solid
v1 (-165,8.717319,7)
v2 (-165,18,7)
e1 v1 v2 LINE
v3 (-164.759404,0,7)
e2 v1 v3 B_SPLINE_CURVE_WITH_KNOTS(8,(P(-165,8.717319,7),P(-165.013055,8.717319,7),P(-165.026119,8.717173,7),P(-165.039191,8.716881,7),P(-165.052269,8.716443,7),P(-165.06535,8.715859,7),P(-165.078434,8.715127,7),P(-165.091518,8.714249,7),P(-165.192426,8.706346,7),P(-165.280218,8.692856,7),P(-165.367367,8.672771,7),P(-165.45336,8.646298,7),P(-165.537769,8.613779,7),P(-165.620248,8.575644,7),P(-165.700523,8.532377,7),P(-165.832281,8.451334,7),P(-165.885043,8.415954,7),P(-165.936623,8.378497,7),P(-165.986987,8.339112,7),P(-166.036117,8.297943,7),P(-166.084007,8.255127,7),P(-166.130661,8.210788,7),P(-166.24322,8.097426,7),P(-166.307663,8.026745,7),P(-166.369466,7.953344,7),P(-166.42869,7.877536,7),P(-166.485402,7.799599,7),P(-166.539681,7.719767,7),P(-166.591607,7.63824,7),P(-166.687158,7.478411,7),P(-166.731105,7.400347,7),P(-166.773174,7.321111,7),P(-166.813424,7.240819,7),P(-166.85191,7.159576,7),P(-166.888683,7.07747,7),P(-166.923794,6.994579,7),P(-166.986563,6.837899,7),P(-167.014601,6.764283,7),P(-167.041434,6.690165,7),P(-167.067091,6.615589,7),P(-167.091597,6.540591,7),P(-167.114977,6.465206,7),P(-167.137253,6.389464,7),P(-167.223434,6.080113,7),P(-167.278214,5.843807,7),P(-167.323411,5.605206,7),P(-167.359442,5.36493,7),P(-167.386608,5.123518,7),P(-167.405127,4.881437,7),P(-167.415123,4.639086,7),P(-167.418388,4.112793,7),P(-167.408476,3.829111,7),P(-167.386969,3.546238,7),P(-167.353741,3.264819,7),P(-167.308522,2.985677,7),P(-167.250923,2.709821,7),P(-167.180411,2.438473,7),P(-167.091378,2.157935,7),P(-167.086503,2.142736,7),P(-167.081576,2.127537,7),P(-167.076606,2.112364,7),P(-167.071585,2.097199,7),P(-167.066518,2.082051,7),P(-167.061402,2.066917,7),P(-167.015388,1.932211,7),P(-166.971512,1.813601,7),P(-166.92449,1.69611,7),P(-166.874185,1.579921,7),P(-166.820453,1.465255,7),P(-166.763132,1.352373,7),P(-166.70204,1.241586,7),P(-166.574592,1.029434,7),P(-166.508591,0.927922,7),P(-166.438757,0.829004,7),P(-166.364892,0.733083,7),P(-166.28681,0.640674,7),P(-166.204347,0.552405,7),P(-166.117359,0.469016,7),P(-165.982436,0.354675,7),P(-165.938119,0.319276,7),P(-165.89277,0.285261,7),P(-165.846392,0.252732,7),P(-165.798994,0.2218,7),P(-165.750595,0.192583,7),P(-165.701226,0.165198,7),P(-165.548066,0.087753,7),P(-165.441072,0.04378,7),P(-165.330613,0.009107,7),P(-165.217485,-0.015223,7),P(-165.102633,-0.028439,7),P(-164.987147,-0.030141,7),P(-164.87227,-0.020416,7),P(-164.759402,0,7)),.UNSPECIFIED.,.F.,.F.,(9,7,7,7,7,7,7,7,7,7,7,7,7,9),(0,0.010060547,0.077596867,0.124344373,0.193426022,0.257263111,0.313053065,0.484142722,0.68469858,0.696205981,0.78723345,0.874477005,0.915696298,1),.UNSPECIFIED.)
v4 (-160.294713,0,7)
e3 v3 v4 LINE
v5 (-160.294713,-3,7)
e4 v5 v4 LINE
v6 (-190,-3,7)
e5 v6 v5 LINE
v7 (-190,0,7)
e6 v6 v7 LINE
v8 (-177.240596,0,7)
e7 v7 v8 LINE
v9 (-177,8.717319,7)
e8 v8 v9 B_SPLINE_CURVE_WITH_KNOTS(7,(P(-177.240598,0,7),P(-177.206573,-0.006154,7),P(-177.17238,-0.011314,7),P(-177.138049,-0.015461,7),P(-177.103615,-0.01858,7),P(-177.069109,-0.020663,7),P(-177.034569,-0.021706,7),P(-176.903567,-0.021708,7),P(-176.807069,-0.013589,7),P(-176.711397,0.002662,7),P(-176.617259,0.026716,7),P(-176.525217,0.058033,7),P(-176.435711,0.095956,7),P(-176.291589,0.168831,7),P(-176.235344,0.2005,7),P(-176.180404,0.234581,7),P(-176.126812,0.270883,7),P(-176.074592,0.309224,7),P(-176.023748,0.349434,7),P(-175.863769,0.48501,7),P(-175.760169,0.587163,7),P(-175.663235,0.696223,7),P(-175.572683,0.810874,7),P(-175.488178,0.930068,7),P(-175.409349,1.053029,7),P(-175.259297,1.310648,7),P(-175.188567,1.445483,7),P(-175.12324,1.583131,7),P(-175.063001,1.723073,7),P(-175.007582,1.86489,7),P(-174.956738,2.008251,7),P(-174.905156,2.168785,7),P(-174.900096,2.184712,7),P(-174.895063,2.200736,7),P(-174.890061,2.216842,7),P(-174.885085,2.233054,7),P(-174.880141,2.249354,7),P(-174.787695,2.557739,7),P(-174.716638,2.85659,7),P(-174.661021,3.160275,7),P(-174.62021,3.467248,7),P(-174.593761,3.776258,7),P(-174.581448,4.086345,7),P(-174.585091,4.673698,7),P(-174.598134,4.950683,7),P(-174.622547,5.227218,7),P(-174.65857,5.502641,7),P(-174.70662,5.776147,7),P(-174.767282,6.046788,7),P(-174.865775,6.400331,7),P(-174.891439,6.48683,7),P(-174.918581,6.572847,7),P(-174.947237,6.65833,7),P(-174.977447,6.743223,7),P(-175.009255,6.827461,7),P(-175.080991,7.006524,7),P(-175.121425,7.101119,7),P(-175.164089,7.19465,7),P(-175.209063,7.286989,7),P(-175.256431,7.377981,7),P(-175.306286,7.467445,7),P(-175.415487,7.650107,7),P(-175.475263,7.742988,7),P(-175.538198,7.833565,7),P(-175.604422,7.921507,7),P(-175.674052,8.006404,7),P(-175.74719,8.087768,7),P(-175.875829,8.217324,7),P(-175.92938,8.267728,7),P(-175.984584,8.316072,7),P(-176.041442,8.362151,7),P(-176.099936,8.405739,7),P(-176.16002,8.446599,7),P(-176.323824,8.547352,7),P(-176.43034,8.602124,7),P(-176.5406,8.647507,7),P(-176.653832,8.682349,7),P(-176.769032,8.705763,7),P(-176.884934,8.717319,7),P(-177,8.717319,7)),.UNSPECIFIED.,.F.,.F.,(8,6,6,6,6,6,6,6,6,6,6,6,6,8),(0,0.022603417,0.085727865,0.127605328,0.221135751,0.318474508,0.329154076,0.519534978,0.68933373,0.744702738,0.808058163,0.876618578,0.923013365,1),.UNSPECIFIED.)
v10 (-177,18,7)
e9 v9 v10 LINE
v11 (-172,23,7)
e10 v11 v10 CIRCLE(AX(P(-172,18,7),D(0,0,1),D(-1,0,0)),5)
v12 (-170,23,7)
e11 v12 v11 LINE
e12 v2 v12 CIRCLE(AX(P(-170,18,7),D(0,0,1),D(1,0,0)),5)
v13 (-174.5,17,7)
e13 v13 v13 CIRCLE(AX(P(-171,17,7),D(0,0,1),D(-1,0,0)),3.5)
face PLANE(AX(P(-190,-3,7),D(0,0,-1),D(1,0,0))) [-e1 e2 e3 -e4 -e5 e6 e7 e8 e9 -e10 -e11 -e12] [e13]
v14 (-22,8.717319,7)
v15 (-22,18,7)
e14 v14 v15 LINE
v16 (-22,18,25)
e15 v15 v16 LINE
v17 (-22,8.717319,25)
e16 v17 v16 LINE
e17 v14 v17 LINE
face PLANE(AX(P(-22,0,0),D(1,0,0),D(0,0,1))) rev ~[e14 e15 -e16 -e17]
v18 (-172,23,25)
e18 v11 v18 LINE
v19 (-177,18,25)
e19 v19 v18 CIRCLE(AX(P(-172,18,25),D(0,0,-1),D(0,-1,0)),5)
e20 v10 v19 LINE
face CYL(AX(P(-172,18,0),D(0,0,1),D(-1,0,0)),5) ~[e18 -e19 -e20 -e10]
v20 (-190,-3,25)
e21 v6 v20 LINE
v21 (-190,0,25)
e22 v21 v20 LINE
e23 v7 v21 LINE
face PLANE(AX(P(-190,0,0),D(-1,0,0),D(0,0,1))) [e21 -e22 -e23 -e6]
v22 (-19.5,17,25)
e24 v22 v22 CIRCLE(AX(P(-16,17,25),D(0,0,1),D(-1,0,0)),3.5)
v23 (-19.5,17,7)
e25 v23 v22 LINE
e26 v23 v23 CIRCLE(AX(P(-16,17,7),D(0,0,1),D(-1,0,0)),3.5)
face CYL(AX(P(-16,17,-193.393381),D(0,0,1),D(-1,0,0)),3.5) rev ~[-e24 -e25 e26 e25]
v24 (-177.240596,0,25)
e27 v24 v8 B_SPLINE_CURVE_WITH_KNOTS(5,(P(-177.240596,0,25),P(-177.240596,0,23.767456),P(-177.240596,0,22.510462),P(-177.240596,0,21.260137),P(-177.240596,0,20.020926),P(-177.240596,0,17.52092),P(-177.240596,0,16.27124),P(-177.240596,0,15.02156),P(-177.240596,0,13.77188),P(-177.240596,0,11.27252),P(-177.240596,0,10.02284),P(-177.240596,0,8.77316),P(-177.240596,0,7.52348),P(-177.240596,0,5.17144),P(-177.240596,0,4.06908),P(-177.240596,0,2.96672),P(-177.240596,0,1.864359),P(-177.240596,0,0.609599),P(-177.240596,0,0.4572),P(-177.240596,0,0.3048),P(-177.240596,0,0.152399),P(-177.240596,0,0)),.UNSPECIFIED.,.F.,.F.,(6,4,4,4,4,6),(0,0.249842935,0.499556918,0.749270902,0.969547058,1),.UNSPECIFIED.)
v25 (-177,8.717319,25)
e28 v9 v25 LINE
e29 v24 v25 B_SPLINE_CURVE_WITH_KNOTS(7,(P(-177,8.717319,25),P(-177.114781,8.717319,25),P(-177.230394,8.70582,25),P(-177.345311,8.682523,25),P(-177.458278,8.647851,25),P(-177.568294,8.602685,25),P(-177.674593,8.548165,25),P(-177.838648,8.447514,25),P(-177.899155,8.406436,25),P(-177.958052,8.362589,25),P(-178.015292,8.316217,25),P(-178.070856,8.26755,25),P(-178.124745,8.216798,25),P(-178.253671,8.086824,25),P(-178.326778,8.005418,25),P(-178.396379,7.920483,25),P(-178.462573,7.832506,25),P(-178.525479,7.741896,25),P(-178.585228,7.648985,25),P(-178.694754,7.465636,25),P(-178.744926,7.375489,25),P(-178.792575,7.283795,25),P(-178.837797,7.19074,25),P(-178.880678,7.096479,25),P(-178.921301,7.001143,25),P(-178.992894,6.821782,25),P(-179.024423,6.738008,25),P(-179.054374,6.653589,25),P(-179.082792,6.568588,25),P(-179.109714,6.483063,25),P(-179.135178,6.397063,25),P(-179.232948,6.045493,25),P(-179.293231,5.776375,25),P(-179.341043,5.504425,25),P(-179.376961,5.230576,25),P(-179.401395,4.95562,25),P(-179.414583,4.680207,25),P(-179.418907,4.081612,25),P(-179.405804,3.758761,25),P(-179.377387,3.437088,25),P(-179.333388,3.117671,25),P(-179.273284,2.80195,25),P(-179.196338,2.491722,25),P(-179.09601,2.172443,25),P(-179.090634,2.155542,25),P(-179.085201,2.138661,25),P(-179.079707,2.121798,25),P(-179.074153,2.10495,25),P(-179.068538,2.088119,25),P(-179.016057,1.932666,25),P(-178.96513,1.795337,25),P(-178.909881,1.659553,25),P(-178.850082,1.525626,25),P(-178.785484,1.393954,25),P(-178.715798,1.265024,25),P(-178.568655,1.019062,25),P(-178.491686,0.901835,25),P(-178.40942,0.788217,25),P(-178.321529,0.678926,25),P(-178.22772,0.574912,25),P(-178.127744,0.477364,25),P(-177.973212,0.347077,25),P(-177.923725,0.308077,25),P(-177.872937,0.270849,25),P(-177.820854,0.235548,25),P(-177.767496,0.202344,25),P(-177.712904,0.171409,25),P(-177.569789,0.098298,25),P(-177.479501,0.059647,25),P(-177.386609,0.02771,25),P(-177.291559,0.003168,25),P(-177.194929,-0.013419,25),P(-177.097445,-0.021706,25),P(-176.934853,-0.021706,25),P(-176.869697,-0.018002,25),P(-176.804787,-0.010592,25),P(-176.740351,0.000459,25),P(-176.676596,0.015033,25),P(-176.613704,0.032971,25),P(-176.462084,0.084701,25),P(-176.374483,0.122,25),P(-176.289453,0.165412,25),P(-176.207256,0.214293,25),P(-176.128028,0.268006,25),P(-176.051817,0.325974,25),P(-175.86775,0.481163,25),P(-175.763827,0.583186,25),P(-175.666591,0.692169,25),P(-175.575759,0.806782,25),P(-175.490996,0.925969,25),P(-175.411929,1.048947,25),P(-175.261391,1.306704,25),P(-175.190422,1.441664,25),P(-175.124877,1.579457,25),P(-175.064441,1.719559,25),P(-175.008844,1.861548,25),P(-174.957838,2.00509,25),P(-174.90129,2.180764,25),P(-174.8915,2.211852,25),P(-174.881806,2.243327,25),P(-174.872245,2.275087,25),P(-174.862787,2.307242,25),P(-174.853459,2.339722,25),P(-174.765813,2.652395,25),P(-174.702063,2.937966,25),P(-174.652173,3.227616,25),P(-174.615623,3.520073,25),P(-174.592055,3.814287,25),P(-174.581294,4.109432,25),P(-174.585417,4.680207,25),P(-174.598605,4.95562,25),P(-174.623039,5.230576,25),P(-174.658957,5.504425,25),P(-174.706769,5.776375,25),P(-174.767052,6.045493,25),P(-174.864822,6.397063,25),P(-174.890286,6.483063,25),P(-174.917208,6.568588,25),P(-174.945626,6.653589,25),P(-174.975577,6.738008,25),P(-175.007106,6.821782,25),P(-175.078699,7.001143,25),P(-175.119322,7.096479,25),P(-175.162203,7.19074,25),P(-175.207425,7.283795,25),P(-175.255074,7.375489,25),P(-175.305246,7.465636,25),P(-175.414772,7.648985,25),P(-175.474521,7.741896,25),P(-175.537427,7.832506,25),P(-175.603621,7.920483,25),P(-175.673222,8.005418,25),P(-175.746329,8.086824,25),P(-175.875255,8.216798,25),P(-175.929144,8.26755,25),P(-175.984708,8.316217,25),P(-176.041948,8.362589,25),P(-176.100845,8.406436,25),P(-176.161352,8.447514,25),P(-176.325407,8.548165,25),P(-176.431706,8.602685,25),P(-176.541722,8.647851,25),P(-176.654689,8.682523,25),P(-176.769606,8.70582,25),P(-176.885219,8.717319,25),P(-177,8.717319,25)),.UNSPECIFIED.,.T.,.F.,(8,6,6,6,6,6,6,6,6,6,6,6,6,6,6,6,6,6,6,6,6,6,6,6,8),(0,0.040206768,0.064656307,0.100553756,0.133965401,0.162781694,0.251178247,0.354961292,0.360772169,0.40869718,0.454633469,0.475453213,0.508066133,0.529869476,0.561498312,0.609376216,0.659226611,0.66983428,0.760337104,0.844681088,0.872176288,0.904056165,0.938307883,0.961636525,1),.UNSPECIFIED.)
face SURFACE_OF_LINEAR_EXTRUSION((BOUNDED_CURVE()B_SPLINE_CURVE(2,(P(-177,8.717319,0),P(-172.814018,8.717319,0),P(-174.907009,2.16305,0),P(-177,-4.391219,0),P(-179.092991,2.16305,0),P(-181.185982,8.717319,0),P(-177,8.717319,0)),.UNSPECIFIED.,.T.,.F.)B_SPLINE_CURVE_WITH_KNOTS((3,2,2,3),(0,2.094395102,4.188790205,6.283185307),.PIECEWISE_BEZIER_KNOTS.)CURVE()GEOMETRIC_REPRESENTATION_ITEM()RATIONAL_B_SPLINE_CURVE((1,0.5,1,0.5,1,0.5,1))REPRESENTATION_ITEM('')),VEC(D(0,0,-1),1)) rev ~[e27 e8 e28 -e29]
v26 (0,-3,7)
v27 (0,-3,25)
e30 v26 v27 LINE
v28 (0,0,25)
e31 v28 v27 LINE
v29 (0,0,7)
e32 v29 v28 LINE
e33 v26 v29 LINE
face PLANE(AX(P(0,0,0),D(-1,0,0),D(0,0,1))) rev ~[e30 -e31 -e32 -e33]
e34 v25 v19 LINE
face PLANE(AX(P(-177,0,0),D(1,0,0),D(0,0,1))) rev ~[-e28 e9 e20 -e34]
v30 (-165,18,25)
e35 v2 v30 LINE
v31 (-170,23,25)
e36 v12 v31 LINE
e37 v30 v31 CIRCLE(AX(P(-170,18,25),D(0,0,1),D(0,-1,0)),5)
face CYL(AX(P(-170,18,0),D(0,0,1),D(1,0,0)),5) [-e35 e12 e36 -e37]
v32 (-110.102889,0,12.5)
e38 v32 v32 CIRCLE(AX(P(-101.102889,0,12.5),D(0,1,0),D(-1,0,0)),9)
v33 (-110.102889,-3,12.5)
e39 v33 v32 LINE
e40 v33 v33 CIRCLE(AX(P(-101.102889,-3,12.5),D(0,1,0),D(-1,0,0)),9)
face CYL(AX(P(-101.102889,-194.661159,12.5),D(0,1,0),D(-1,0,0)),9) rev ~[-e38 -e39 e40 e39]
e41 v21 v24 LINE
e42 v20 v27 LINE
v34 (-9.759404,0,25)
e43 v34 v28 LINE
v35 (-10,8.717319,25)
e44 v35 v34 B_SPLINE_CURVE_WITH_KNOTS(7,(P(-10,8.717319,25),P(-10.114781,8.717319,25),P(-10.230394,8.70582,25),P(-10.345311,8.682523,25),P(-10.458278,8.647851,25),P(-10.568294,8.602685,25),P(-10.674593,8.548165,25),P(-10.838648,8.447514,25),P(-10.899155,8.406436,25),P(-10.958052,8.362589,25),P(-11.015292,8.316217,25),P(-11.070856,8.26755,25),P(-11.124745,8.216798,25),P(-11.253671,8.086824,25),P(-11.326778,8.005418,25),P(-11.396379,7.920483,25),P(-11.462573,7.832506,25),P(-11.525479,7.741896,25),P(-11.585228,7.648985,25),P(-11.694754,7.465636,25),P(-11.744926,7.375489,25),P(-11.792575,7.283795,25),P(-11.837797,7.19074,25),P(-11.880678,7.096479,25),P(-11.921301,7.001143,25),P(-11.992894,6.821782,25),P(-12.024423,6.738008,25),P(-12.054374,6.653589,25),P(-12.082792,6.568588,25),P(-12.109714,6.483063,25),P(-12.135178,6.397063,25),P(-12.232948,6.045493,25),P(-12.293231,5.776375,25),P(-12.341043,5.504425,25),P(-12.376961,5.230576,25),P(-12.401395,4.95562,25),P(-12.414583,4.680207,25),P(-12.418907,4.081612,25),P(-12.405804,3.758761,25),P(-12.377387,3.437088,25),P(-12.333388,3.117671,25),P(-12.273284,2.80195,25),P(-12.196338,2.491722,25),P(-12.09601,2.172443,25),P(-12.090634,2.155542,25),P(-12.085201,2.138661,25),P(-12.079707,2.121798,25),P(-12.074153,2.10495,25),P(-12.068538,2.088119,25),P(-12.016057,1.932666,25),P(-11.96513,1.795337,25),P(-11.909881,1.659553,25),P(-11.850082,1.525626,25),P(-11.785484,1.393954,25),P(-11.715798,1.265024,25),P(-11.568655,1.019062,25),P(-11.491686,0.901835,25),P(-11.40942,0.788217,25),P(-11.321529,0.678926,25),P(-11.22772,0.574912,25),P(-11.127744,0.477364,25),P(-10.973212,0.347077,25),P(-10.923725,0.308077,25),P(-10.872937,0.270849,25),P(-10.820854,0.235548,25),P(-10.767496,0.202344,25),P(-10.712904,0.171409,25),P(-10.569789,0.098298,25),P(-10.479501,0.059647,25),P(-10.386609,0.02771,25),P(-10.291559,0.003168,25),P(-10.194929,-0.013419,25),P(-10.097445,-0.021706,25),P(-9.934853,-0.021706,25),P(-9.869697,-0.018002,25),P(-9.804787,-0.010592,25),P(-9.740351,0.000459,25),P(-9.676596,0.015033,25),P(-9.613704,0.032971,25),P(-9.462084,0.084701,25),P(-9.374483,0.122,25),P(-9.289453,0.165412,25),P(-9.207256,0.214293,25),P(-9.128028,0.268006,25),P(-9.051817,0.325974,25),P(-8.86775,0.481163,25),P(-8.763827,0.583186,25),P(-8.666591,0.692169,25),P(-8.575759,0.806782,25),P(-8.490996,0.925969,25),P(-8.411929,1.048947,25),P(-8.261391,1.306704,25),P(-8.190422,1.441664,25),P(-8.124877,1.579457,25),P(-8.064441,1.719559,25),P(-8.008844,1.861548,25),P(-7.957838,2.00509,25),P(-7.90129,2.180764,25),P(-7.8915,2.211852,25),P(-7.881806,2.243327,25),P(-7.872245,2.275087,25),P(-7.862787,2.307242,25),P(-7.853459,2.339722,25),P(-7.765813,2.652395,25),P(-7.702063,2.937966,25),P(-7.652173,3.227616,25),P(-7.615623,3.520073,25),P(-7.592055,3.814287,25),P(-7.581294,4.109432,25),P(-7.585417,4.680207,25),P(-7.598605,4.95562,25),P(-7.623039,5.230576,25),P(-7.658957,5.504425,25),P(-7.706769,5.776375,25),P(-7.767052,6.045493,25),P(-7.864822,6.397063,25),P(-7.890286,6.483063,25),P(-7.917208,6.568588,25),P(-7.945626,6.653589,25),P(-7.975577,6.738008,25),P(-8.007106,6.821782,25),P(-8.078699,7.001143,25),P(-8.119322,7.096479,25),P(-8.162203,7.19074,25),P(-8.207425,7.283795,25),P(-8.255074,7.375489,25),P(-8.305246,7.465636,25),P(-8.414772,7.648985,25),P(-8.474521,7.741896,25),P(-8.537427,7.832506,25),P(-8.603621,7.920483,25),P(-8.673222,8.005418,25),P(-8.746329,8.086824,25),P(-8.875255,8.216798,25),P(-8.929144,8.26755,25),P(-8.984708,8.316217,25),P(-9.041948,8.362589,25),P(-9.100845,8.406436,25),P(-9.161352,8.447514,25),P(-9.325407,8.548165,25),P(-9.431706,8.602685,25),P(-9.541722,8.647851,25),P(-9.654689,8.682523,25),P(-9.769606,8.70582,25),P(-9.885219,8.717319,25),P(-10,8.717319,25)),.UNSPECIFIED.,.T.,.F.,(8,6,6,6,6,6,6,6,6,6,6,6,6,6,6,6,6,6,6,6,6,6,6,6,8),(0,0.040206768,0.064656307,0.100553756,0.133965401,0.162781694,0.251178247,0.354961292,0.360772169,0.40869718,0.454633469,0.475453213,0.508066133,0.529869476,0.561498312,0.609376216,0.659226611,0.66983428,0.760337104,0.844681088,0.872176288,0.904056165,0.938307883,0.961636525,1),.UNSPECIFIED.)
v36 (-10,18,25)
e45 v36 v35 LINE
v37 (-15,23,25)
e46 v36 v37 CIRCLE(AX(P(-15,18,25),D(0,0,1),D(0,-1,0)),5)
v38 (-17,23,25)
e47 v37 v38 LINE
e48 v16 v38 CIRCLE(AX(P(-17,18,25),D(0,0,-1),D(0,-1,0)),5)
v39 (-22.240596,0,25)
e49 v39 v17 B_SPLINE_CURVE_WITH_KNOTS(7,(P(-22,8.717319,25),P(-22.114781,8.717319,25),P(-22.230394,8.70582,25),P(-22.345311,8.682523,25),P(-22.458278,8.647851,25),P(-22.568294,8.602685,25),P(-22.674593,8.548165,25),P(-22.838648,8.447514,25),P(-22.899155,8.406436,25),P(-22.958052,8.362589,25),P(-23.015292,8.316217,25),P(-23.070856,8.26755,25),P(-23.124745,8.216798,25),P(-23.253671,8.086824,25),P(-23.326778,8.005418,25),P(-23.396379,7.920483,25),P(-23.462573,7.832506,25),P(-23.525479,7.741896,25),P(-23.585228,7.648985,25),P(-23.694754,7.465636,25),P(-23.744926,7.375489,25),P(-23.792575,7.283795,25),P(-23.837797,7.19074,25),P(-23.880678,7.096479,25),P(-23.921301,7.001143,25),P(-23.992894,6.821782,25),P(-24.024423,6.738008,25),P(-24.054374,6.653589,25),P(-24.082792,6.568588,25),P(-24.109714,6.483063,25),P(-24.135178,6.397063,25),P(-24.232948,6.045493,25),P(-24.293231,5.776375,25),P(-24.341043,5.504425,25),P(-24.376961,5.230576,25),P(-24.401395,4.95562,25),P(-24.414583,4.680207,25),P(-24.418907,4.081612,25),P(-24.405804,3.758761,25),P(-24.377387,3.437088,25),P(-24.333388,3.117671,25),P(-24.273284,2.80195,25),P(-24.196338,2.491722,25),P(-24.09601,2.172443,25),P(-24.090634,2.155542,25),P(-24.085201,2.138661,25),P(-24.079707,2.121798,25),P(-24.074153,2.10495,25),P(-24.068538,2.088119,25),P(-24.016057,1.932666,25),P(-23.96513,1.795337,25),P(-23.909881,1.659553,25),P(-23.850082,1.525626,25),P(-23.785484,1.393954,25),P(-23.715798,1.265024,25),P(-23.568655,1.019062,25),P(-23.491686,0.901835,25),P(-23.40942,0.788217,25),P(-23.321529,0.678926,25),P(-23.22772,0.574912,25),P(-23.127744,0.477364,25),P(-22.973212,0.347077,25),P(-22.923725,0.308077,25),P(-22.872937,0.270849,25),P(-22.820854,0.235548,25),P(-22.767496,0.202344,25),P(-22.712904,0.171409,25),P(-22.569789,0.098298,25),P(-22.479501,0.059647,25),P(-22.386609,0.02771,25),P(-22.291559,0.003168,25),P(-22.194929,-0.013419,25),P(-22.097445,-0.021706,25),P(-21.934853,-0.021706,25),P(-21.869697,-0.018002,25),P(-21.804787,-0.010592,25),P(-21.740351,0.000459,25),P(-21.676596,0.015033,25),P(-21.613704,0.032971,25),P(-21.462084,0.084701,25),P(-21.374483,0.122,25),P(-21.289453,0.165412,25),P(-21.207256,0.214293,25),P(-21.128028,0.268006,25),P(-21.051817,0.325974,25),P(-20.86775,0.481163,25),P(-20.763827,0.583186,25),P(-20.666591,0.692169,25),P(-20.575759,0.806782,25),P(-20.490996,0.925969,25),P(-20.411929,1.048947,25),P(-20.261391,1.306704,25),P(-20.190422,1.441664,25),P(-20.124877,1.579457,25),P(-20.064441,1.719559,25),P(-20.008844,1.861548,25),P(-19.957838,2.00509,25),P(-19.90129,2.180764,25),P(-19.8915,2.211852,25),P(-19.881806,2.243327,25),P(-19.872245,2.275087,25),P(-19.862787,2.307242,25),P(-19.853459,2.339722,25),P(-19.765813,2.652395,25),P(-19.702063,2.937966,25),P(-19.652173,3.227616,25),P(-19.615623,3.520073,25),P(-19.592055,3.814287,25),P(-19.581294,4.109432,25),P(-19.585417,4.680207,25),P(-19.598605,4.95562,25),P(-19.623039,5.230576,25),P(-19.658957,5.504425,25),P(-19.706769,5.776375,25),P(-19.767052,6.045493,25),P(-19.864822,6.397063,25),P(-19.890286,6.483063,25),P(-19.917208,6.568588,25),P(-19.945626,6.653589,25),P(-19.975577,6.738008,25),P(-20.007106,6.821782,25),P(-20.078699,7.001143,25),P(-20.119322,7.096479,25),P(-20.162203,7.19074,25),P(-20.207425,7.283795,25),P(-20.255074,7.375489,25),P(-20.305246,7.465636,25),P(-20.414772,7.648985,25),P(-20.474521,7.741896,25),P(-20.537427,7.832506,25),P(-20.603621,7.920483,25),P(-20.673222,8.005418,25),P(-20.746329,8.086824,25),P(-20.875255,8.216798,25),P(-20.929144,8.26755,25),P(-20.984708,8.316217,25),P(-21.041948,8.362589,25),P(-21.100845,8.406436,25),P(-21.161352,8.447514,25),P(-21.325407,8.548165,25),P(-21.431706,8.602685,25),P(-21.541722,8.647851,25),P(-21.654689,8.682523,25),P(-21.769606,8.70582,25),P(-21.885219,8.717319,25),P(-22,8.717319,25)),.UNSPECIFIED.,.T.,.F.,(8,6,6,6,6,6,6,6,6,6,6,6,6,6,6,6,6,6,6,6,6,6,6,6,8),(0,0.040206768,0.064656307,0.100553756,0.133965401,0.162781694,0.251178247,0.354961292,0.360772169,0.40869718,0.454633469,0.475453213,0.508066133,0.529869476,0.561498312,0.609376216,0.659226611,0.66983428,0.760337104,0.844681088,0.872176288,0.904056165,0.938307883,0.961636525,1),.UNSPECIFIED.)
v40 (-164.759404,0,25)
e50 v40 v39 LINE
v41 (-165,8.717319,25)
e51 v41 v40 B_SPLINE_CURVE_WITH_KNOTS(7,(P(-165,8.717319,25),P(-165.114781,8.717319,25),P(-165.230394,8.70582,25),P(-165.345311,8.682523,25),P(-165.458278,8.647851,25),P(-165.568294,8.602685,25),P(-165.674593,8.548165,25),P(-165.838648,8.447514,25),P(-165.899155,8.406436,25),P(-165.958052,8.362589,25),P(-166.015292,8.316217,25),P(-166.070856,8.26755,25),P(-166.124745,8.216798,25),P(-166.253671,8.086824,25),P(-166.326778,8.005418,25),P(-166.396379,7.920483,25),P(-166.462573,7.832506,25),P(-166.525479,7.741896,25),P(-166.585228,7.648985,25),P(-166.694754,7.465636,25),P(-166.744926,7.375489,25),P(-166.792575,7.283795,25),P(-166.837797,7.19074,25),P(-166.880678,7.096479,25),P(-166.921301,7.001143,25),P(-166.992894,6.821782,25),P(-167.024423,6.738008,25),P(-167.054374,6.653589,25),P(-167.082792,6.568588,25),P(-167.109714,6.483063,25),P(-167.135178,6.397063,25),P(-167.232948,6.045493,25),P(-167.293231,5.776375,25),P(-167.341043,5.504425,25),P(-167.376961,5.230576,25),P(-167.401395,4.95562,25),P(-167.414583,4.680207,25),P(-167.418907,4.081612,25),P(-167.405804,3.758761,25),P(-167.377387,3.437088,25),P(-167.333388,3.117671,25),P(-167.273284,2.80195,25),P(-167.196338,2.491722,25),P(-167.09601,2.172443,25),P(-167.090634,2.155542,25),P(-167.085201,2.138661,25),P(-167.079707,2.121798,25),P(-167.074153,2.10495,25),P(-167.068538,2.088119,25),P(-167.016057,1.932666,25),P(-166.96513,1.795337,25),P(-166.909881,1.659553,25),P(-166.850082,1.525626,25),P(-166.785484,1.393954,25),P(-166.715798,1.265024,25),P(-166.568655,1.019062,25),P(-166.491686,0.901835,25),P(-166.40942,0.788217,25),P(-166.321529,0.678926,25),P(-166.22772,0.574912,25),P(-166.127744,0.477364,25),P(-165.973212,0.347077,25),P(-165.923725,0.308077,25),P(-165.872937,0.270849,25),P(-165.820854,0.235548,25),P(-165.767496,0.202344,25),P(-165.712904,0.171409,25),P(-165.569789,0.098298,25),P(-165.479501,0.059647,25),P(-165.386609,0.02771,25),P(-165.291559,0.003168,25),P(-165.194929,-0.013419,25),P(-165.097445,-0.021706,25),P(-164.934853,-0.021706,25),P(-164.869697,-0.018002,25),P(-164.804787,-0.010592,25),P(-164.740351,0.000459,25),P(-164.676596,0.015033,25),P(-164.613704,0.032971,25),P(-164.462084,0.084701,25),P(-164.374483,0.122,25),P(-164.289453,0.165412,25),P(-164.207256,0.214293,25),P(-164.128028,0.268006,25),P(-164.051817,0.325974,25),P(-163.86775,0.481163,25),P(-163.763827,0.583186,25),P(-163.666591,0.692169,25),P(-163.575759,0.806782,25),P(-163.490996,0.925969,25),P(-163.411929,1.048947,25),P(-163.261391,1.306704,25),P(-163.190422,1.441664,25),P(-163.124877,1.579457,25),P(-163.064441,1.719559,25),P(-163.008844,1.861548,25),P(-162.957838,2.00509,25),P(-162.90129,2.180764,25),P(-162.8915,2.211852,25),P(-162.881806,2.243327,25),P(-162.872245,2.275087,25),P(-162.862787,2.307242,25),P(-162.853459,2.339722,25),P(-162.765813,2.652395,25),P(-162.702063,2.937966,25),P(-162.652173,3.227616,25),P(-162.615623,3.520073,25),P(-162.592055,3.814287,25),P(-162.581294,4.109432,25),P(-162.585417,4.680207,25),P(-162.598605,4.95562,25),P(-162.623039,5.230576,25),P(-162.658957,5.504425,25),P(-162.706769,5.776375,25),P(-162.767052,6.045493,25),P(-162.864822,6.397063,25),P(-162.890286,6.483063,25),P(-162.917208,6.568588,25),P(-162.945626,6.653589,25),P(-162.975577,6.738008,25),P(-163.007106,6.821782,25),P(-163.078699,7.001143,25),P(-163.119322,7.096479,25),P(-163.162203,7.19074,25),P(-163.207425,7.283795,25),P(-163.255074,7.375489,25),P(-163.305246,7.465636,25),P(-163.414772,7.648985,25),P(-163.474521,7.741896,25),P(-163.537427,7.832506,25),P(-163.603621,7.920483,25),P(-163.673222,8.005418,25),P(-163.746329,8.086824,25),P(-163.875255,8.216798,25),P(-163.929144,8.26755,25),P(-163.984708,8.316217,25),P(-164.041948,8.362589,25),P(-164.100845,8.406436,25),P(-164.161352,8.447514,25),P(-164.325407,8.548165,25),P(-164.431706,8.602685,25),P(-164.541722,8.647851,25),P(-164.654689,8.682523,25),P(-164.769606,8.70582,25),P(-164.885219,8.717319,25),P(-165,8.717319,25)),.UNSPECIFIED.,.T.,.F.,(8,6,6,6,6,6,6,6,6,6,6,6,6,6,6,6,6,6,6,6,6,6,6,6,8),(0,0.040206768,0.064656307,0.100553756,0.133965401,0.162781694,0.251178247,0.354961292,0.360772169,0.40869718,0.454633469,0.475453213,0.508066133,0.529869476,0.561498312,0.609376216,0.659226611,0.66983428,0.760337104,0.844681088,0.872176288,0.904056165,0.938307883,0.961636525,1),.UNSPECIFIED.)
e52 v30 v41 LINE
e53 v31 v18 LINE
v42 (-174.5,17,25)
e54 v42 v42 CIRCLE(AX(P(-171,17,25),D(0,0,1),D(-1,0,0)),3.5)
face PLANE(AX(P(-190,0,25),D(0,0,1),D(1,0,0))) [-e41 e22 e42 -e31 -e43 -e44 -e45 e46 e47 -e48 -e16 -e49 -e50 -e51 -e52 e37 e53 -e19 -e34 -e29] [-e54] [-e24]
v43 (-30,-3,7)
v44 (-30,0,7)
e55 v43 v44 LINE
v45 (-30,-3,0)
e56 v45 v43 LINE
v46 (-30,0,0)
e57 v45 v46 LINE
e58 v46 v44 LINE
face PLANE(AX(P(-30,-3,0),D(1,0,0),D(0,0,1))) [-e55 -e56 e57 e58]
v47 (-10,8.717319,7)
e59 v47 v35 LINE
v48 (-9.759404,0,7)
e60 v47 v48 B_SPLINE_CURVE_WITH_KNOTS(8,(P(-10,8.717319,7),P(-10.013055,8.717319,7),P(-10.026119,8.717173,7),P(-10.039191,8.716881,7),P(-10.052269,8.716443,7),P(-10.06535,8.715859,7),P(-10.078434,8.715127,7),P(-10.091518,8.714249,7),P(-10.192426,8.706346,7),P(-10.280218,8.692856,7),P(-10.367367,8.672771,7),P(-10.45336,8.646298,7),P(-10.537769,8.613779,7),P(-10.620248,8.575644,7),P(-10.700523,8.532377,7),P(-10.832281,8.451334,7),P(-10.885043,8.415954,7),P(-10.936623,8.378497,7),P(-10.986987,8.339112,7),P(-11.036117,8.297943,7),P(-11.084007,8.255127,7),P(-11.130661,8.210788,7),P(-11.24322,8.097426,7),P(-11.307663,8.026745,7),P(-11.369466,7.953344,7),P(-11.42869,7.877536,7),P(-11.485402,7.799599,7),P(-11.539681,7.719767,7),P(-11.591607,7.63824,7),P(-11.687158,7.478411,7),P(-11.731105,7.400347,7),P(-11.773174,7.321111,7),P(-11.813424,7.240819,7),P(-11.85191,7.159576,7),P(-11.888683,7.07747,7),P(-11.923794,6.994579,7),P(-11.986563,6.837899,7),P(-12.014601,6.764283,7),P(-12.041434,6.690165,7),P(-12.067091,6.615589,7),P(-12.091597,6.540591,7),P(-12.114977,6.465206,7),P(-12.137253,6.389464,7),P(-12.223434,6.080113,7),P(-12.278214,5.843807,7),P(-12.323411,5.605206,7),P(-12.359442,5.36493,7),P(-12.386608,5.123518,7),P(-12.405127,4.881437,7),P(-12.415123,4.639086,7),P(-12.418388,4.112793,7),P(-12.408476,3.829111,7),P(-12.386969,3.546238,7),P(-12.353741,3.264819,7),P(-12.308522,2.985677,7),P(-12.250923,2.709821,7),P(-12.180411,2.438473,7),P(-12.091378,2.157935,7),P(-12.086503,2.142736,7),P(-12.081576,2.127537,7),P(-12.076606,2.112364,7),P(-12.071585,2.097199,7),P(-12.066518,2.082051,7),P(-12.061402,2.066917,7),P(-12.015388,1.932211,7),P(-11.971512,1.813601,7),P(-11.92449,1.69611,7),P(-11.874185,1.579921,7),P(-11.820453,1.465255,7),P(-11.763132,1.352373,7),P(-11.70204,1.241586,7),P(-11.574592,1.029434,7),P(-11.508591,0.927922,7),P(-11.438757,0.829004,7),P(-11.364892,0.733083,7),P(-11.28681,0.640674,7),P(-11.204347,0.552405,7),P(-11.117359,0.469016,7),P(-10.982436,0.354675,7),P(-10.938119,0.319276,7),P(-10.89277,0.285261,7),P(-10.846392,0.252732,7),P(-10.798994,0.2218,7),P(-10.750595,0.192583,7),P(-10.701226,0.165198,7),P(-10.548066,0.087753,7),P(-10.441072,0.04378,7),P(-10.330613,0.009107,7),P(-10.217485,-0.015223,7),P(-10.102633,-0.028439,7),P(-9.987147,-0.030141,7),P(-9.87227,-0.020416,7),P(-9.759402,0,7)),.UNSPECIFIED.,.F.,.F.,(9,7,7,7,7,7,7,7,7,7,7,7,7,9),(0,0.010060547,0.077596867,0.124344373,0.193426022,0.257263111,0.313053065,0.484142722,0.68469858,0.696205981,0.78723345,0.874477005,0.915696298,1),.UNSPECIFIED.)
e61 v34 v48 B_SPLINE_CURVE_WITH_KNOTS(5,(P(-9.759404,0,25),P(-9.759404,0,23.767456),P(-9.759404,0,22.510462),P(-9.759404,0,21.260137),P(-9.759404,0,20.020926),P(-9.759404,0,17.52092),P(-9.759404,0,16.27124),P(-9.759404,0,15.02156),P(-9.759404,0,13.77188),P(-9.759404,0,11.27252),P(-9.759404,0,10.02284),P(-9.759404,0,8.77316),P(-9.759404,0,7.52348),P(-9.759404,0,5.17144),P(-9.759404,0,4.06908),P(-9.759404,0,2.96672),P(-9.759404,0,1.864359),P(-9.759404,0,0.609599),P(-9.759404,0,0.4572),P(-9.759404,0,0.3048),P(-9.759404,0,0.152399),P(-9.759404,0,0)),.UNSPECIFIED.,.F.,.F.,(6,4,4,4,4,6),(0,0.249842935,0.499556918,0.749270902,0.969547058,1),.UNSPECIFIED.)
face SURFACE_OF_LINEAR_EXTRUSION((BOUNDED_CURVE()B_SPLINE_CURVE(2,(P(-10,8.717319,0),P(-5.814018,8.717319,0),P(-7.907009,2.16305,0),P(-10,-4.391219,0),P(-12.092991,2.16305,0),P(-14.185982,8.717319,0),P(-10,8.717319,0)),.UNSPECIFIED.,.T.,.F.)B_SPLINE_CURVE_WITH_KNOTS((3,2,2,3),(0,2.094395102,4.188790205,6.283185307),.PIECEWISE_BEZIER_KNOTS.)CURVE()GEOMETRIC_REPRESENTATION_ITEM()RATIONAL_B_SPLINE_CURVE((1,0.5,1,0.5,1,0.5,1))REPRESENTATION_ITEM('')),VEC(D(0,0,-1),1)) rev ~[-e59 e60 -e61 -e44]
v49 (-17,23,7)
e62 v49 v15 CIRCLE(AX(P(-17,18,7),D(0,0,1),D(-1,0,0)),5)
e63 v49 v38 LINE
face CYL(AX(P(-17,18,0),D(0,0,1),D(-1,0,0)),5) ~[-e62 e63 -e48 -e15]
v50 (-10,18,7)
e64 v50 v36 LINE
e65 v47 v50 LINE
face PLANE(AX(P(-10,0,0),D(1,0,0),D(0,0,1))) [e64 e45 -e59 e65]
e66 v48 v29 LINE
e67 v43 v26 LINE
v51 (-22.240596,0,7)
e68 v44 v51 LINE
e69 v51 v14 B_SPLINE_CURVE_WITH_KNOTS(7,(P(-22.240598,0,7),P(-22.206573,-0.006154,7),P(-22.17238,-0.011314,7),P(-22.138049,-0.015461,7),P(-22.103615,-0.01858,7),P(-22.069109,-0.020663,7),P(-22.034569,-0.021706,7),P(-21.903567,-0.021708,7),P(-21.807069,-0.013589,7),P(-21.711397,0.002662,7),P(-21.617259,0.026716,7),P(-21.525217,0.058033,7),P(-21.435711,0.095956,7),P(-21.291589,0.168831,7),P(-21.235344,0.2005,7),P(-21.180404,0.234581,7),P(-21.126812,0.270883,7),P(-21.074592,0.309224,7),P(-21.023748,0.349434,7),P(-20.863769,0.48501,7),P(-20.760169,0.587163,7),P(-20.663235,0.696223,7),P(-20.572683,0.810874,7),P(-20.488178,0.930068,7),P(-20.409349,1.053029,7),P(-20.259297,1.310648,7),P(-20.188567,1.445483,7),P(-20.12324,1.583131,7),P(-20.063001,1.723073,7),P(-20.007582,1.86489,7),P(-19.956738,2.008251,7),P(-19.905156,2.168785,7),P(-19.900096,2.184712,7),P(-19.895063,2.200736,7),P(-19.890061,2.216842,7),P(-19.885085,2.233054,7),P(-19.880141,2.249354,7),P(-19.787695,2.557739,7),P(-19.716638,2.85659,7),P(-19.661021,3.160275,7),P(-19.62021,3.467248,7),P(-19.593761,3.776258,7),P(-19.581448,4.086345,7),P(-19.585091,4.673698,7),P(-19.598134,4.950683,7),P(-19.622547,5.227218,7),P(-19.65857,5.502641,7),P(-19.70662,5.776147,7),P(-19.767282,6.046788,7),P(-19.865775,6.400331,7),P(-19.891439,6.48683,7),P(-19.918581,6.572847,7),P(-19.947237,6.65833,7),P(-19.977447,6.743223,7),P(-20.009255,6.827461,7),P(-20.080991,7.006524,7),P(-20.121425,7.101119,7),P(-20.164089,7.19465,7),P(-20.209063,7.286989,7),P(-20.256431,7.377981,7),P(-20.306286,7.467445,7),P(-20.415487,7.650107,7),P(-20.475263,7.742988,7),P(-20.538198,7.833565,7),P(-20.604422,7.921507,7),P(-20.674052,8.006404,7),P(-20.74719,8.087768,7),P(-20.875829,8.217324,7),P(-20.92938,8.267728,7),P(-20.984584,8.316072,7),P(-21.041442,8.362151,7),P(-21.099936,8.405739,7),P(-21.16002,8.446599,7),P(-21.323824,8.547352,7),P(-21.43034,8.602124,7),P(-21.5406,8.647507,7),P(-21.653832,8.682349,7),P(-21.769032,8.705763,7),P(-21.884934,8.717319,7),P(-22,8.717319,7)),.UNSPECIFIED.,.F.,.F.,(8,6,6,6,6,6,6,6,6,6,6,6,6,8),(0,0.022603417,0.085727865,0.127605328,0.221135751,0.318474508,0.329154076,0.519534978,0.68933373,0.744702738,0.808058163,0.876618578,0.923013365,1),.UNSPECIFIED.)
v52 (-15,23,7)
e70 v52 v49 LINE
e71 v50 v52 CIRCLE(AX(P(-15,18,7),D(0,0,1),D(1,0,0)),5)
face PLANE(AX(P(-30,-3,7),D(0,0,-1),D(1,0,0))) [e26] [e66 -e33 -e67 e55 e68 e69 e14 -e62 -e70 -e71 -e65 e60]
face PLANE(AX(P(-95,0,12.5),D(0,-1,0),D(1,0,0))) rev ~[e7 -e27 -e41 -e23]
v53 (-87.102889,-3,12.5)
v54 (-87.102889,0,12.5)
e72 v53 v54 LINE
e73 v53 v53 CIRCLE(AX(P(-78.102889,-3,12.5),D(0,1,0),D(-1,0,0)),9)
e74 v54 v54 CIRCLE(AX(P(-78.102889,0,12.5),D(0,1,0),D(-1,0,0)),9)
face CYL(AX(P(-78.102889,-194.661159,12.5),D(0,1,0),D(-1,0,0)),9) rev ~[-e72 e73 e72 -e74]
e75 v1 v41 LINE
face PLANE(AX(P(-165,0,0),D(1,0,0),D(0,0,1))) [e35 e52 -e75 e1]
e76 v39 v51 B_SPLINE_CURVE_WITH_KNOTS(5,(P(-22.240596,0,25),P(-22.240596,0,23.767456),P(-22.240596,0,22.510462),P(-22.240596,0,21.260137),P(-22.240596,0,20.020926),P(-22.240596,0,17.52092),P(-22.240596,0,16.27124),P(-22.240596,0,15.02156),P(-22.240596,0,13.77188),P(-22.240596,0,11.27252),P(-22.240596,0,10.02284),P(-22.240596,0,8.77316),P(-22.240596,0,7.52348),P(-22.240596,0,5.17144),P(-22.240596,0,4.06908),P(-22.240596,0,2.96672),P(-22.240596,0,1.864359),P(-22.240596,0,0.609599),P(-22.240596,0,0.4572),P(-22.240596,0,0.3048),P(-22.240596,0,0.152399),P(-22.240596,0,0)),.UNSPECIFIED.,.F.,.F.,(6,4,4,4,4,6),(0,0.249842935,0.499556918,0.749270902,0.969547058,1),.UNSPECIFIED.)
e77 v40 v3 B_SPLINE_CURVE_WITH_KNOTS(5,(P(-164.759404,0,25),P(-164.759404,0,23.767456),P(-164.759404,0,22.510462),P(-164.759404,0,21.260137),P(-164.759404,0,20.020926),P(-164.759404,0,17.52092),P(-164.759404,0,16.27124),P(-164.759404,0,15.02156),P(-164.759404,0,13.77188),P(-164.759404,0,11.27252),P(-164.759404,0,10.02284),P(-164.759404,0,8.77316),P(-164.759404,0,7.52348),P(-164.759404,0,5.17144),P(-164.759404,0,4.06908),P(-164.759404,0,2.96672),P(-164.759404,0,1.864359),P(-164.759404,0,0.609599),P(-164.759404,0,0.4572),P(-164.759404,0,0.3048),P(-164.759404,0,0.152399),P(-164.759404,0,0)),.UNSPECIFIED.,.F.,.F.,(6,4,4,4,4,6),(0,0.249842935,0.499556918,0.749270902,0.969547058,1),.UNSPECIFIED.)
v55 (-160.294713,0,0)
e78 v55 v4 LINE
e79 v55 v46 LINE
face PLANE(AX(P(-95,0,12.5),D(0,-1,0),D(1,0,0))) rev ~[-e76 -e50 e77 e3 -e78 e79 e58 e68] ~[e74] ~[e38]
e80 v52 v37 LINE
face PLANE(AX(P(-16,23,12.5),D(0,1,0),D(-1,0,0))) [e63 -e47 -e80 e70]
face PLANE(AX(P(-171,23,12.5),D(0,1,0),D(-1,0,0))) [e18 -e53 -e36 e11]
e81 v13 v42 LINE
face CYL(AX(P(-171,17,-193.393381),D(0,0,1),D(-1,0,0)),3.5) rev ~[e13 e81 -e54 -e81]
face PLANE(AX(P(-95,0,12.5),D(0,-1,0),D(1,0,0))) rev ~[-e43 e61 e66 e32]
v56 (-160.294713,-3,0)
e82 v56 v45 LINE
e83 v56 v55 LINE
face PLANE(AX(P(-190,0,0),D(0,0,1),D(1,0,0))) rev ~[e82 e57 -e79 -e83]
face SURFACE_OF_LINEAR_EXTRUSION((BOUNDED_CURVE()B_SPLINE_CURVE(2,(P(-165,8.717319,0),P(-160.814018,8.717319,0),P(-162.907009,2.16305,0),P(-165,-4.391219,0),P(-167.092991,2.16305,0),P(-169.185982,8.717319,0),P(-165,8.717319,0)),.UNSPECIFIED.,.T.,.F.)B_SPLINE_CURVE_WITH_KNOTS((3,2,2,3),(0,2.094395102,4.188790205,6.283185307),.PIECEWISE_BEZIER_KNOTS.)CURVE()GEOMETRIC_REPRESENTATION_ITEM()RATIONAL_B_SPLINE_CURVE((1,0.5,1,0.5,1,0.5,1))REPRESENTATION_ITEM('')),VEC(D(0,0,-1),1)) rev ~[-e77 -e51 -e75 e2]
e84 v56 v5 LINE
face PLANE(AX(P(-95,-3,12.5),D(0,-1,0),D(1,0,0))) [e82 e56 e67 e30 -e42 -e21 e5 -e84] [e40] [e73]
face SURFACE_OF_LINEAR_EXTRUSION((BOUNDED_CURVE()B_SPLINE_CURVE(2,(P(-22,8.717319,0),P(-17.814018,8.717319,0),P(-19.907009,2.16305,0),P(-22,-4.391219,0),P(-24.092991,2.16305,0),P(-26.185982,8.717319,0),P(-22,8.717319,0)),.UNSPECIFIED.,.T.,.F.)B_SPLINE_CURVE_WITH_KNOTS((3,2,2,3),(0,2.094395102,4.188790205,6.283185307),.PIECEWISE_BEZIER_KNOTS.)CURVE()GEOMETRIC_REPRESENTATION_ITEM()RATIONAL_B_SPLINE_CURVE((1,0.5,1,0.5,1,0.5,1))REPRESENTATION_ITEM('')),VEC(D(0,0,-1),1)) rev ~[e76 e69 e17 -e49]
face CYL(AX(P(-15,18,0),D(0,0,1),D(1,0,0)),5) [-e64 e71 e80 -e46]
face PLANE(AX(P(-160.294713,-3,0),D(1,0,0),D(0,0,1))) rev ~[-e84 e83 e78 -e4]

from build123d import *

# Parameters (mm, degrees)
F0_W      = 190
F0_H      = 25
F1_DEPTH  = 3
F3_D      = 18
F4_D      = 18
F5_W      = 12
F5_H      = 25
F6_DEPTH  = 23
F7_R      = 5
F9_D      = 7
F11_DEPTH = 50
F12_DEPTH = 25.4
F13_W     = 30
F13_H     = 7
F13_W_2   = 29.7052872181
F14_DEPTH = 70


with BuildPart() as f1:
    # F0 (on Front) → F1 (new body)
    with BuildSketch(Plane.XZ):
        with Locations((-95, 12.5)):
            Rectangle(F0_W, F0_H)
    extrude(amount=F1_DEPTH)

    # F3 (through all)
    with Locations(Plane.XZ.offset(3)):
        with Locations((-78.1028885841, 12.5)):
            Hole(F3_D / 2)

    # F4 (through all)
    with Locations(Plane.XZ.offset(3)):
        with Locations((-101.1028885841, 12.5)):
            Hole(F4_D / 2)

    # F5 (on face) → F6 (join)
    with BuildSketch(Plane(origin=(0, 0, 0), x_dir=(-1, 0, 0), z_dir=(0, 1, 0))):
        with Locations((171, 12.5)):
            Rectangle(F5_W, F5_H)
        with Locations((16, 12.5)):
            Rectangle(F5_W, F5_H)
    extrude(amount=F6_DEPTH)

    # F7
    f7_edges = [f1.edges().sort_by_distance(p)[0] for p in [
        (-10, 23, 12.5),
        (-22, 23, 12.5),
        (-165, 23, 12.5),
        (-177, 23, 12.5),
    ]]
    fillet(f7_edges, radius=F7_R)

    # F9 (through all)
    with Locations(Plane(origin=(0, 0, 0), x_dir=(1, 0, 0), z_dir=(0, 0, -1))):
        with Locations((-16, -17), (-171, -17)):
            Hole(F9_D / 2)

    # F10 (on face) → F11 (cut)
    with BuildSketch(Plane(origin=(0, 0, 0), x_dir=(1, 0, 0), z_dir=(0, 0, -1))):
        with BuildLine():
            Line((-10, 0), (-10, -8.7173189968))
            add(Edge.make_bspline(
                [(-10, -8.7173189968), (-7.7008124763, -8.7173189968), (-7.5862252656, -4.5655746788), (-7.4716380548, -0.4138303608), (-9.7594039535, 0)],
                knots=[0, 0, 0, 1.5209375403, 1.5209375403, 3.0418750806, 3.0418750806, 3.0418750806], degree=2, weights=[1, 0.7245129853, 1, 0.7245129853, 1]))
            Line((-9.7594039535, 0), (-10, 0))
        make_face()
        with BuildLine():
            add(Edge.make_bspline(
                [(-22.2405960465, 0), (-24.5283619452, -0.4138303608), (-24.4137747344, -4.5655746788), (-24.2991875237, -8.7173189968), (-22, -8.7173189968)],
                knots=[3.2413102266, 3.2413102266, 3.2413102266, 4.7622477669, 4.7622477669, 6.2831853072, 6.2831853072, 6.2831853072], degree=2, weights=[1, 0.7245129853, 1, 0.7245129853, 1]))
            Line((-22, -8.7173189968), (-22, 0))
            Line((-22, 0), (-22.2405960465, 0))
        make_face()
        with BuildLine():
            add(Edge.make_bspline(
                [(-165, -8.7173189968), (-162.7008124763, -8.7173189968), (-162.5862252656, -4.5655746788), (-162.4716380548, -0.4138303608), (-164.7594039535, 0)],
                knots=[0, 0, 0, 1.5209375403, 1.5209375403, 3.0418750806, 3.0418750806, 3.0418750806], degree=2, weights=[1, 0.7245129853, 1, 0.7245129853, 1]))
            Line((-164.7594039535, 0), (-165, 0))
            Line((-165, 0), (-165, -8.7173189968))
        make_face()
        with BuildLine():
            add(Edge.make_bspline(
                [(-177.2405960465, 0), (-179.5283619452, -0.4138303608), (-179.4137747344, -4.5655746788), (-179.2991875237, -8.7173189968), (-177, -8.7173189968)],
                knots=[3.2413102266, 3.2413102266, 3.2413102266, 4.7622477669, 4.7622477669, 6.2831853072, 6.2831853072, 6.2831853072], degree=2, weights=[1, 0.7245129853, 1, 0.7245129853, 1]))
            Line((-177, -8.7173189968), (-177, 0))
            Line((-177, 0), (-177.2405960465, 0))
        make_face()
    extrude(amount=-F11_DEPTH, mode=Mode.SUBTRACT)

    # F10 (on face) → F12 (cut)
    with BuildSketch(Plane(origin=(0, 0, 0), x_dir=(1, 0, 0), z_dir=(0, 0, -1))):
        with BuildLine():
            add(Edge.make_bspline(
                [(-22, -8.7173189968), (-17.8140176358, -8.7173189968), (-19.9070088179, -2.1630499978), (-22, 4.3912190013), (-24.0929911821, -2.1630499978), (-26.1859823642, -8.7173189968), (-22, -8.7173189968)],
                knots=[0, 0, 0, 2.0943951024, 2.0943951024, 4.1887902048, 4.1887902048, 6.2831853072, 6.2831853072, 6.2831853072], degree=2, weights=[1, 0.5, 1, 0.5, 1, 0.5, 1]))
        make_face()
        with BuildLine():
            add(Edge.make_bspline(
                [(-10, -8.7173189968), (-5.8140176358, -8.7173189968), (-7.9070088179, -2.1630499978), (-10, 4.3912190013), (-12.0929911821, -2.1630499978), (-14.1859823642, -8.7173189968), (-10, -8.7173189968)],
                knots=[0, 0, 0, 2.0943951024, 2.0943951024, 4.1887902048, 4.1887902048, 6.2831853072, 6.2831853072, 6.2831853072], degree=2, weights=[1, 0.5, 1, 0.5, 1, 0.5, 1]))
        make_face()
        with BuildLine():
            add(Edge.make_bspline(
                [(-177, -8.7173189968), (-172.8140176358, -8.7173189968), (-174.9070088179, -2.1630499978), (-177, 4.3912190013), (-179.0929911821, -2.1630499978), (-181.1859823642, -8.7173189968), (-177, -8.7173189968)],
                knots=[0, 0, 0, 2.0943951024, 2.0943951024, 4.1887902048, 4.1887902048, 6.2831853072, 6.2831853072, 6.2831853072], degree=2, weights=[1, 0.5, 1, 0.5, 1, 0.5, 1]))
        make_face()
        with BuildLine():
            add(Edge.make_bspline(
                [(-165, -8.7173189968), (-160.8140176358, -8.7173189968), (-162.9070088179, -2.1630499978), (-165, 4.3912190013), (-167.0929911821, -2.1630499978), (-169.1859823642, -8.7173189968), (-165, -8.7173189968)],
                knots=[0, 0, 0, 2.0943951024, 2.0943951024, 4.1887902048, 4.1887902048, 6.2831853072, 6.2831853072, 6.2831853072], degree=2, weights=[1, 0.5, 1, 0.5, 1, 0.5, 1]))
        make_face()
    extrude(amount=-F12_DEPTH, mode=Mode.SUBTRACT)

    # F13 (on face) → F14 (cut)
    with BuildSketch(Plane.XZ.offset(3)):
        with Locations((-15, 3.5)):
            Rectangle(F13_W, F13_H)
        with Locations((-175.147356391, 3.5)):
            Rectangle(F13_W_2, F13_H)
    extrude(amount=-F14_DEPTH, mode=Mode.SUBTRACT)


solid = f1.part
